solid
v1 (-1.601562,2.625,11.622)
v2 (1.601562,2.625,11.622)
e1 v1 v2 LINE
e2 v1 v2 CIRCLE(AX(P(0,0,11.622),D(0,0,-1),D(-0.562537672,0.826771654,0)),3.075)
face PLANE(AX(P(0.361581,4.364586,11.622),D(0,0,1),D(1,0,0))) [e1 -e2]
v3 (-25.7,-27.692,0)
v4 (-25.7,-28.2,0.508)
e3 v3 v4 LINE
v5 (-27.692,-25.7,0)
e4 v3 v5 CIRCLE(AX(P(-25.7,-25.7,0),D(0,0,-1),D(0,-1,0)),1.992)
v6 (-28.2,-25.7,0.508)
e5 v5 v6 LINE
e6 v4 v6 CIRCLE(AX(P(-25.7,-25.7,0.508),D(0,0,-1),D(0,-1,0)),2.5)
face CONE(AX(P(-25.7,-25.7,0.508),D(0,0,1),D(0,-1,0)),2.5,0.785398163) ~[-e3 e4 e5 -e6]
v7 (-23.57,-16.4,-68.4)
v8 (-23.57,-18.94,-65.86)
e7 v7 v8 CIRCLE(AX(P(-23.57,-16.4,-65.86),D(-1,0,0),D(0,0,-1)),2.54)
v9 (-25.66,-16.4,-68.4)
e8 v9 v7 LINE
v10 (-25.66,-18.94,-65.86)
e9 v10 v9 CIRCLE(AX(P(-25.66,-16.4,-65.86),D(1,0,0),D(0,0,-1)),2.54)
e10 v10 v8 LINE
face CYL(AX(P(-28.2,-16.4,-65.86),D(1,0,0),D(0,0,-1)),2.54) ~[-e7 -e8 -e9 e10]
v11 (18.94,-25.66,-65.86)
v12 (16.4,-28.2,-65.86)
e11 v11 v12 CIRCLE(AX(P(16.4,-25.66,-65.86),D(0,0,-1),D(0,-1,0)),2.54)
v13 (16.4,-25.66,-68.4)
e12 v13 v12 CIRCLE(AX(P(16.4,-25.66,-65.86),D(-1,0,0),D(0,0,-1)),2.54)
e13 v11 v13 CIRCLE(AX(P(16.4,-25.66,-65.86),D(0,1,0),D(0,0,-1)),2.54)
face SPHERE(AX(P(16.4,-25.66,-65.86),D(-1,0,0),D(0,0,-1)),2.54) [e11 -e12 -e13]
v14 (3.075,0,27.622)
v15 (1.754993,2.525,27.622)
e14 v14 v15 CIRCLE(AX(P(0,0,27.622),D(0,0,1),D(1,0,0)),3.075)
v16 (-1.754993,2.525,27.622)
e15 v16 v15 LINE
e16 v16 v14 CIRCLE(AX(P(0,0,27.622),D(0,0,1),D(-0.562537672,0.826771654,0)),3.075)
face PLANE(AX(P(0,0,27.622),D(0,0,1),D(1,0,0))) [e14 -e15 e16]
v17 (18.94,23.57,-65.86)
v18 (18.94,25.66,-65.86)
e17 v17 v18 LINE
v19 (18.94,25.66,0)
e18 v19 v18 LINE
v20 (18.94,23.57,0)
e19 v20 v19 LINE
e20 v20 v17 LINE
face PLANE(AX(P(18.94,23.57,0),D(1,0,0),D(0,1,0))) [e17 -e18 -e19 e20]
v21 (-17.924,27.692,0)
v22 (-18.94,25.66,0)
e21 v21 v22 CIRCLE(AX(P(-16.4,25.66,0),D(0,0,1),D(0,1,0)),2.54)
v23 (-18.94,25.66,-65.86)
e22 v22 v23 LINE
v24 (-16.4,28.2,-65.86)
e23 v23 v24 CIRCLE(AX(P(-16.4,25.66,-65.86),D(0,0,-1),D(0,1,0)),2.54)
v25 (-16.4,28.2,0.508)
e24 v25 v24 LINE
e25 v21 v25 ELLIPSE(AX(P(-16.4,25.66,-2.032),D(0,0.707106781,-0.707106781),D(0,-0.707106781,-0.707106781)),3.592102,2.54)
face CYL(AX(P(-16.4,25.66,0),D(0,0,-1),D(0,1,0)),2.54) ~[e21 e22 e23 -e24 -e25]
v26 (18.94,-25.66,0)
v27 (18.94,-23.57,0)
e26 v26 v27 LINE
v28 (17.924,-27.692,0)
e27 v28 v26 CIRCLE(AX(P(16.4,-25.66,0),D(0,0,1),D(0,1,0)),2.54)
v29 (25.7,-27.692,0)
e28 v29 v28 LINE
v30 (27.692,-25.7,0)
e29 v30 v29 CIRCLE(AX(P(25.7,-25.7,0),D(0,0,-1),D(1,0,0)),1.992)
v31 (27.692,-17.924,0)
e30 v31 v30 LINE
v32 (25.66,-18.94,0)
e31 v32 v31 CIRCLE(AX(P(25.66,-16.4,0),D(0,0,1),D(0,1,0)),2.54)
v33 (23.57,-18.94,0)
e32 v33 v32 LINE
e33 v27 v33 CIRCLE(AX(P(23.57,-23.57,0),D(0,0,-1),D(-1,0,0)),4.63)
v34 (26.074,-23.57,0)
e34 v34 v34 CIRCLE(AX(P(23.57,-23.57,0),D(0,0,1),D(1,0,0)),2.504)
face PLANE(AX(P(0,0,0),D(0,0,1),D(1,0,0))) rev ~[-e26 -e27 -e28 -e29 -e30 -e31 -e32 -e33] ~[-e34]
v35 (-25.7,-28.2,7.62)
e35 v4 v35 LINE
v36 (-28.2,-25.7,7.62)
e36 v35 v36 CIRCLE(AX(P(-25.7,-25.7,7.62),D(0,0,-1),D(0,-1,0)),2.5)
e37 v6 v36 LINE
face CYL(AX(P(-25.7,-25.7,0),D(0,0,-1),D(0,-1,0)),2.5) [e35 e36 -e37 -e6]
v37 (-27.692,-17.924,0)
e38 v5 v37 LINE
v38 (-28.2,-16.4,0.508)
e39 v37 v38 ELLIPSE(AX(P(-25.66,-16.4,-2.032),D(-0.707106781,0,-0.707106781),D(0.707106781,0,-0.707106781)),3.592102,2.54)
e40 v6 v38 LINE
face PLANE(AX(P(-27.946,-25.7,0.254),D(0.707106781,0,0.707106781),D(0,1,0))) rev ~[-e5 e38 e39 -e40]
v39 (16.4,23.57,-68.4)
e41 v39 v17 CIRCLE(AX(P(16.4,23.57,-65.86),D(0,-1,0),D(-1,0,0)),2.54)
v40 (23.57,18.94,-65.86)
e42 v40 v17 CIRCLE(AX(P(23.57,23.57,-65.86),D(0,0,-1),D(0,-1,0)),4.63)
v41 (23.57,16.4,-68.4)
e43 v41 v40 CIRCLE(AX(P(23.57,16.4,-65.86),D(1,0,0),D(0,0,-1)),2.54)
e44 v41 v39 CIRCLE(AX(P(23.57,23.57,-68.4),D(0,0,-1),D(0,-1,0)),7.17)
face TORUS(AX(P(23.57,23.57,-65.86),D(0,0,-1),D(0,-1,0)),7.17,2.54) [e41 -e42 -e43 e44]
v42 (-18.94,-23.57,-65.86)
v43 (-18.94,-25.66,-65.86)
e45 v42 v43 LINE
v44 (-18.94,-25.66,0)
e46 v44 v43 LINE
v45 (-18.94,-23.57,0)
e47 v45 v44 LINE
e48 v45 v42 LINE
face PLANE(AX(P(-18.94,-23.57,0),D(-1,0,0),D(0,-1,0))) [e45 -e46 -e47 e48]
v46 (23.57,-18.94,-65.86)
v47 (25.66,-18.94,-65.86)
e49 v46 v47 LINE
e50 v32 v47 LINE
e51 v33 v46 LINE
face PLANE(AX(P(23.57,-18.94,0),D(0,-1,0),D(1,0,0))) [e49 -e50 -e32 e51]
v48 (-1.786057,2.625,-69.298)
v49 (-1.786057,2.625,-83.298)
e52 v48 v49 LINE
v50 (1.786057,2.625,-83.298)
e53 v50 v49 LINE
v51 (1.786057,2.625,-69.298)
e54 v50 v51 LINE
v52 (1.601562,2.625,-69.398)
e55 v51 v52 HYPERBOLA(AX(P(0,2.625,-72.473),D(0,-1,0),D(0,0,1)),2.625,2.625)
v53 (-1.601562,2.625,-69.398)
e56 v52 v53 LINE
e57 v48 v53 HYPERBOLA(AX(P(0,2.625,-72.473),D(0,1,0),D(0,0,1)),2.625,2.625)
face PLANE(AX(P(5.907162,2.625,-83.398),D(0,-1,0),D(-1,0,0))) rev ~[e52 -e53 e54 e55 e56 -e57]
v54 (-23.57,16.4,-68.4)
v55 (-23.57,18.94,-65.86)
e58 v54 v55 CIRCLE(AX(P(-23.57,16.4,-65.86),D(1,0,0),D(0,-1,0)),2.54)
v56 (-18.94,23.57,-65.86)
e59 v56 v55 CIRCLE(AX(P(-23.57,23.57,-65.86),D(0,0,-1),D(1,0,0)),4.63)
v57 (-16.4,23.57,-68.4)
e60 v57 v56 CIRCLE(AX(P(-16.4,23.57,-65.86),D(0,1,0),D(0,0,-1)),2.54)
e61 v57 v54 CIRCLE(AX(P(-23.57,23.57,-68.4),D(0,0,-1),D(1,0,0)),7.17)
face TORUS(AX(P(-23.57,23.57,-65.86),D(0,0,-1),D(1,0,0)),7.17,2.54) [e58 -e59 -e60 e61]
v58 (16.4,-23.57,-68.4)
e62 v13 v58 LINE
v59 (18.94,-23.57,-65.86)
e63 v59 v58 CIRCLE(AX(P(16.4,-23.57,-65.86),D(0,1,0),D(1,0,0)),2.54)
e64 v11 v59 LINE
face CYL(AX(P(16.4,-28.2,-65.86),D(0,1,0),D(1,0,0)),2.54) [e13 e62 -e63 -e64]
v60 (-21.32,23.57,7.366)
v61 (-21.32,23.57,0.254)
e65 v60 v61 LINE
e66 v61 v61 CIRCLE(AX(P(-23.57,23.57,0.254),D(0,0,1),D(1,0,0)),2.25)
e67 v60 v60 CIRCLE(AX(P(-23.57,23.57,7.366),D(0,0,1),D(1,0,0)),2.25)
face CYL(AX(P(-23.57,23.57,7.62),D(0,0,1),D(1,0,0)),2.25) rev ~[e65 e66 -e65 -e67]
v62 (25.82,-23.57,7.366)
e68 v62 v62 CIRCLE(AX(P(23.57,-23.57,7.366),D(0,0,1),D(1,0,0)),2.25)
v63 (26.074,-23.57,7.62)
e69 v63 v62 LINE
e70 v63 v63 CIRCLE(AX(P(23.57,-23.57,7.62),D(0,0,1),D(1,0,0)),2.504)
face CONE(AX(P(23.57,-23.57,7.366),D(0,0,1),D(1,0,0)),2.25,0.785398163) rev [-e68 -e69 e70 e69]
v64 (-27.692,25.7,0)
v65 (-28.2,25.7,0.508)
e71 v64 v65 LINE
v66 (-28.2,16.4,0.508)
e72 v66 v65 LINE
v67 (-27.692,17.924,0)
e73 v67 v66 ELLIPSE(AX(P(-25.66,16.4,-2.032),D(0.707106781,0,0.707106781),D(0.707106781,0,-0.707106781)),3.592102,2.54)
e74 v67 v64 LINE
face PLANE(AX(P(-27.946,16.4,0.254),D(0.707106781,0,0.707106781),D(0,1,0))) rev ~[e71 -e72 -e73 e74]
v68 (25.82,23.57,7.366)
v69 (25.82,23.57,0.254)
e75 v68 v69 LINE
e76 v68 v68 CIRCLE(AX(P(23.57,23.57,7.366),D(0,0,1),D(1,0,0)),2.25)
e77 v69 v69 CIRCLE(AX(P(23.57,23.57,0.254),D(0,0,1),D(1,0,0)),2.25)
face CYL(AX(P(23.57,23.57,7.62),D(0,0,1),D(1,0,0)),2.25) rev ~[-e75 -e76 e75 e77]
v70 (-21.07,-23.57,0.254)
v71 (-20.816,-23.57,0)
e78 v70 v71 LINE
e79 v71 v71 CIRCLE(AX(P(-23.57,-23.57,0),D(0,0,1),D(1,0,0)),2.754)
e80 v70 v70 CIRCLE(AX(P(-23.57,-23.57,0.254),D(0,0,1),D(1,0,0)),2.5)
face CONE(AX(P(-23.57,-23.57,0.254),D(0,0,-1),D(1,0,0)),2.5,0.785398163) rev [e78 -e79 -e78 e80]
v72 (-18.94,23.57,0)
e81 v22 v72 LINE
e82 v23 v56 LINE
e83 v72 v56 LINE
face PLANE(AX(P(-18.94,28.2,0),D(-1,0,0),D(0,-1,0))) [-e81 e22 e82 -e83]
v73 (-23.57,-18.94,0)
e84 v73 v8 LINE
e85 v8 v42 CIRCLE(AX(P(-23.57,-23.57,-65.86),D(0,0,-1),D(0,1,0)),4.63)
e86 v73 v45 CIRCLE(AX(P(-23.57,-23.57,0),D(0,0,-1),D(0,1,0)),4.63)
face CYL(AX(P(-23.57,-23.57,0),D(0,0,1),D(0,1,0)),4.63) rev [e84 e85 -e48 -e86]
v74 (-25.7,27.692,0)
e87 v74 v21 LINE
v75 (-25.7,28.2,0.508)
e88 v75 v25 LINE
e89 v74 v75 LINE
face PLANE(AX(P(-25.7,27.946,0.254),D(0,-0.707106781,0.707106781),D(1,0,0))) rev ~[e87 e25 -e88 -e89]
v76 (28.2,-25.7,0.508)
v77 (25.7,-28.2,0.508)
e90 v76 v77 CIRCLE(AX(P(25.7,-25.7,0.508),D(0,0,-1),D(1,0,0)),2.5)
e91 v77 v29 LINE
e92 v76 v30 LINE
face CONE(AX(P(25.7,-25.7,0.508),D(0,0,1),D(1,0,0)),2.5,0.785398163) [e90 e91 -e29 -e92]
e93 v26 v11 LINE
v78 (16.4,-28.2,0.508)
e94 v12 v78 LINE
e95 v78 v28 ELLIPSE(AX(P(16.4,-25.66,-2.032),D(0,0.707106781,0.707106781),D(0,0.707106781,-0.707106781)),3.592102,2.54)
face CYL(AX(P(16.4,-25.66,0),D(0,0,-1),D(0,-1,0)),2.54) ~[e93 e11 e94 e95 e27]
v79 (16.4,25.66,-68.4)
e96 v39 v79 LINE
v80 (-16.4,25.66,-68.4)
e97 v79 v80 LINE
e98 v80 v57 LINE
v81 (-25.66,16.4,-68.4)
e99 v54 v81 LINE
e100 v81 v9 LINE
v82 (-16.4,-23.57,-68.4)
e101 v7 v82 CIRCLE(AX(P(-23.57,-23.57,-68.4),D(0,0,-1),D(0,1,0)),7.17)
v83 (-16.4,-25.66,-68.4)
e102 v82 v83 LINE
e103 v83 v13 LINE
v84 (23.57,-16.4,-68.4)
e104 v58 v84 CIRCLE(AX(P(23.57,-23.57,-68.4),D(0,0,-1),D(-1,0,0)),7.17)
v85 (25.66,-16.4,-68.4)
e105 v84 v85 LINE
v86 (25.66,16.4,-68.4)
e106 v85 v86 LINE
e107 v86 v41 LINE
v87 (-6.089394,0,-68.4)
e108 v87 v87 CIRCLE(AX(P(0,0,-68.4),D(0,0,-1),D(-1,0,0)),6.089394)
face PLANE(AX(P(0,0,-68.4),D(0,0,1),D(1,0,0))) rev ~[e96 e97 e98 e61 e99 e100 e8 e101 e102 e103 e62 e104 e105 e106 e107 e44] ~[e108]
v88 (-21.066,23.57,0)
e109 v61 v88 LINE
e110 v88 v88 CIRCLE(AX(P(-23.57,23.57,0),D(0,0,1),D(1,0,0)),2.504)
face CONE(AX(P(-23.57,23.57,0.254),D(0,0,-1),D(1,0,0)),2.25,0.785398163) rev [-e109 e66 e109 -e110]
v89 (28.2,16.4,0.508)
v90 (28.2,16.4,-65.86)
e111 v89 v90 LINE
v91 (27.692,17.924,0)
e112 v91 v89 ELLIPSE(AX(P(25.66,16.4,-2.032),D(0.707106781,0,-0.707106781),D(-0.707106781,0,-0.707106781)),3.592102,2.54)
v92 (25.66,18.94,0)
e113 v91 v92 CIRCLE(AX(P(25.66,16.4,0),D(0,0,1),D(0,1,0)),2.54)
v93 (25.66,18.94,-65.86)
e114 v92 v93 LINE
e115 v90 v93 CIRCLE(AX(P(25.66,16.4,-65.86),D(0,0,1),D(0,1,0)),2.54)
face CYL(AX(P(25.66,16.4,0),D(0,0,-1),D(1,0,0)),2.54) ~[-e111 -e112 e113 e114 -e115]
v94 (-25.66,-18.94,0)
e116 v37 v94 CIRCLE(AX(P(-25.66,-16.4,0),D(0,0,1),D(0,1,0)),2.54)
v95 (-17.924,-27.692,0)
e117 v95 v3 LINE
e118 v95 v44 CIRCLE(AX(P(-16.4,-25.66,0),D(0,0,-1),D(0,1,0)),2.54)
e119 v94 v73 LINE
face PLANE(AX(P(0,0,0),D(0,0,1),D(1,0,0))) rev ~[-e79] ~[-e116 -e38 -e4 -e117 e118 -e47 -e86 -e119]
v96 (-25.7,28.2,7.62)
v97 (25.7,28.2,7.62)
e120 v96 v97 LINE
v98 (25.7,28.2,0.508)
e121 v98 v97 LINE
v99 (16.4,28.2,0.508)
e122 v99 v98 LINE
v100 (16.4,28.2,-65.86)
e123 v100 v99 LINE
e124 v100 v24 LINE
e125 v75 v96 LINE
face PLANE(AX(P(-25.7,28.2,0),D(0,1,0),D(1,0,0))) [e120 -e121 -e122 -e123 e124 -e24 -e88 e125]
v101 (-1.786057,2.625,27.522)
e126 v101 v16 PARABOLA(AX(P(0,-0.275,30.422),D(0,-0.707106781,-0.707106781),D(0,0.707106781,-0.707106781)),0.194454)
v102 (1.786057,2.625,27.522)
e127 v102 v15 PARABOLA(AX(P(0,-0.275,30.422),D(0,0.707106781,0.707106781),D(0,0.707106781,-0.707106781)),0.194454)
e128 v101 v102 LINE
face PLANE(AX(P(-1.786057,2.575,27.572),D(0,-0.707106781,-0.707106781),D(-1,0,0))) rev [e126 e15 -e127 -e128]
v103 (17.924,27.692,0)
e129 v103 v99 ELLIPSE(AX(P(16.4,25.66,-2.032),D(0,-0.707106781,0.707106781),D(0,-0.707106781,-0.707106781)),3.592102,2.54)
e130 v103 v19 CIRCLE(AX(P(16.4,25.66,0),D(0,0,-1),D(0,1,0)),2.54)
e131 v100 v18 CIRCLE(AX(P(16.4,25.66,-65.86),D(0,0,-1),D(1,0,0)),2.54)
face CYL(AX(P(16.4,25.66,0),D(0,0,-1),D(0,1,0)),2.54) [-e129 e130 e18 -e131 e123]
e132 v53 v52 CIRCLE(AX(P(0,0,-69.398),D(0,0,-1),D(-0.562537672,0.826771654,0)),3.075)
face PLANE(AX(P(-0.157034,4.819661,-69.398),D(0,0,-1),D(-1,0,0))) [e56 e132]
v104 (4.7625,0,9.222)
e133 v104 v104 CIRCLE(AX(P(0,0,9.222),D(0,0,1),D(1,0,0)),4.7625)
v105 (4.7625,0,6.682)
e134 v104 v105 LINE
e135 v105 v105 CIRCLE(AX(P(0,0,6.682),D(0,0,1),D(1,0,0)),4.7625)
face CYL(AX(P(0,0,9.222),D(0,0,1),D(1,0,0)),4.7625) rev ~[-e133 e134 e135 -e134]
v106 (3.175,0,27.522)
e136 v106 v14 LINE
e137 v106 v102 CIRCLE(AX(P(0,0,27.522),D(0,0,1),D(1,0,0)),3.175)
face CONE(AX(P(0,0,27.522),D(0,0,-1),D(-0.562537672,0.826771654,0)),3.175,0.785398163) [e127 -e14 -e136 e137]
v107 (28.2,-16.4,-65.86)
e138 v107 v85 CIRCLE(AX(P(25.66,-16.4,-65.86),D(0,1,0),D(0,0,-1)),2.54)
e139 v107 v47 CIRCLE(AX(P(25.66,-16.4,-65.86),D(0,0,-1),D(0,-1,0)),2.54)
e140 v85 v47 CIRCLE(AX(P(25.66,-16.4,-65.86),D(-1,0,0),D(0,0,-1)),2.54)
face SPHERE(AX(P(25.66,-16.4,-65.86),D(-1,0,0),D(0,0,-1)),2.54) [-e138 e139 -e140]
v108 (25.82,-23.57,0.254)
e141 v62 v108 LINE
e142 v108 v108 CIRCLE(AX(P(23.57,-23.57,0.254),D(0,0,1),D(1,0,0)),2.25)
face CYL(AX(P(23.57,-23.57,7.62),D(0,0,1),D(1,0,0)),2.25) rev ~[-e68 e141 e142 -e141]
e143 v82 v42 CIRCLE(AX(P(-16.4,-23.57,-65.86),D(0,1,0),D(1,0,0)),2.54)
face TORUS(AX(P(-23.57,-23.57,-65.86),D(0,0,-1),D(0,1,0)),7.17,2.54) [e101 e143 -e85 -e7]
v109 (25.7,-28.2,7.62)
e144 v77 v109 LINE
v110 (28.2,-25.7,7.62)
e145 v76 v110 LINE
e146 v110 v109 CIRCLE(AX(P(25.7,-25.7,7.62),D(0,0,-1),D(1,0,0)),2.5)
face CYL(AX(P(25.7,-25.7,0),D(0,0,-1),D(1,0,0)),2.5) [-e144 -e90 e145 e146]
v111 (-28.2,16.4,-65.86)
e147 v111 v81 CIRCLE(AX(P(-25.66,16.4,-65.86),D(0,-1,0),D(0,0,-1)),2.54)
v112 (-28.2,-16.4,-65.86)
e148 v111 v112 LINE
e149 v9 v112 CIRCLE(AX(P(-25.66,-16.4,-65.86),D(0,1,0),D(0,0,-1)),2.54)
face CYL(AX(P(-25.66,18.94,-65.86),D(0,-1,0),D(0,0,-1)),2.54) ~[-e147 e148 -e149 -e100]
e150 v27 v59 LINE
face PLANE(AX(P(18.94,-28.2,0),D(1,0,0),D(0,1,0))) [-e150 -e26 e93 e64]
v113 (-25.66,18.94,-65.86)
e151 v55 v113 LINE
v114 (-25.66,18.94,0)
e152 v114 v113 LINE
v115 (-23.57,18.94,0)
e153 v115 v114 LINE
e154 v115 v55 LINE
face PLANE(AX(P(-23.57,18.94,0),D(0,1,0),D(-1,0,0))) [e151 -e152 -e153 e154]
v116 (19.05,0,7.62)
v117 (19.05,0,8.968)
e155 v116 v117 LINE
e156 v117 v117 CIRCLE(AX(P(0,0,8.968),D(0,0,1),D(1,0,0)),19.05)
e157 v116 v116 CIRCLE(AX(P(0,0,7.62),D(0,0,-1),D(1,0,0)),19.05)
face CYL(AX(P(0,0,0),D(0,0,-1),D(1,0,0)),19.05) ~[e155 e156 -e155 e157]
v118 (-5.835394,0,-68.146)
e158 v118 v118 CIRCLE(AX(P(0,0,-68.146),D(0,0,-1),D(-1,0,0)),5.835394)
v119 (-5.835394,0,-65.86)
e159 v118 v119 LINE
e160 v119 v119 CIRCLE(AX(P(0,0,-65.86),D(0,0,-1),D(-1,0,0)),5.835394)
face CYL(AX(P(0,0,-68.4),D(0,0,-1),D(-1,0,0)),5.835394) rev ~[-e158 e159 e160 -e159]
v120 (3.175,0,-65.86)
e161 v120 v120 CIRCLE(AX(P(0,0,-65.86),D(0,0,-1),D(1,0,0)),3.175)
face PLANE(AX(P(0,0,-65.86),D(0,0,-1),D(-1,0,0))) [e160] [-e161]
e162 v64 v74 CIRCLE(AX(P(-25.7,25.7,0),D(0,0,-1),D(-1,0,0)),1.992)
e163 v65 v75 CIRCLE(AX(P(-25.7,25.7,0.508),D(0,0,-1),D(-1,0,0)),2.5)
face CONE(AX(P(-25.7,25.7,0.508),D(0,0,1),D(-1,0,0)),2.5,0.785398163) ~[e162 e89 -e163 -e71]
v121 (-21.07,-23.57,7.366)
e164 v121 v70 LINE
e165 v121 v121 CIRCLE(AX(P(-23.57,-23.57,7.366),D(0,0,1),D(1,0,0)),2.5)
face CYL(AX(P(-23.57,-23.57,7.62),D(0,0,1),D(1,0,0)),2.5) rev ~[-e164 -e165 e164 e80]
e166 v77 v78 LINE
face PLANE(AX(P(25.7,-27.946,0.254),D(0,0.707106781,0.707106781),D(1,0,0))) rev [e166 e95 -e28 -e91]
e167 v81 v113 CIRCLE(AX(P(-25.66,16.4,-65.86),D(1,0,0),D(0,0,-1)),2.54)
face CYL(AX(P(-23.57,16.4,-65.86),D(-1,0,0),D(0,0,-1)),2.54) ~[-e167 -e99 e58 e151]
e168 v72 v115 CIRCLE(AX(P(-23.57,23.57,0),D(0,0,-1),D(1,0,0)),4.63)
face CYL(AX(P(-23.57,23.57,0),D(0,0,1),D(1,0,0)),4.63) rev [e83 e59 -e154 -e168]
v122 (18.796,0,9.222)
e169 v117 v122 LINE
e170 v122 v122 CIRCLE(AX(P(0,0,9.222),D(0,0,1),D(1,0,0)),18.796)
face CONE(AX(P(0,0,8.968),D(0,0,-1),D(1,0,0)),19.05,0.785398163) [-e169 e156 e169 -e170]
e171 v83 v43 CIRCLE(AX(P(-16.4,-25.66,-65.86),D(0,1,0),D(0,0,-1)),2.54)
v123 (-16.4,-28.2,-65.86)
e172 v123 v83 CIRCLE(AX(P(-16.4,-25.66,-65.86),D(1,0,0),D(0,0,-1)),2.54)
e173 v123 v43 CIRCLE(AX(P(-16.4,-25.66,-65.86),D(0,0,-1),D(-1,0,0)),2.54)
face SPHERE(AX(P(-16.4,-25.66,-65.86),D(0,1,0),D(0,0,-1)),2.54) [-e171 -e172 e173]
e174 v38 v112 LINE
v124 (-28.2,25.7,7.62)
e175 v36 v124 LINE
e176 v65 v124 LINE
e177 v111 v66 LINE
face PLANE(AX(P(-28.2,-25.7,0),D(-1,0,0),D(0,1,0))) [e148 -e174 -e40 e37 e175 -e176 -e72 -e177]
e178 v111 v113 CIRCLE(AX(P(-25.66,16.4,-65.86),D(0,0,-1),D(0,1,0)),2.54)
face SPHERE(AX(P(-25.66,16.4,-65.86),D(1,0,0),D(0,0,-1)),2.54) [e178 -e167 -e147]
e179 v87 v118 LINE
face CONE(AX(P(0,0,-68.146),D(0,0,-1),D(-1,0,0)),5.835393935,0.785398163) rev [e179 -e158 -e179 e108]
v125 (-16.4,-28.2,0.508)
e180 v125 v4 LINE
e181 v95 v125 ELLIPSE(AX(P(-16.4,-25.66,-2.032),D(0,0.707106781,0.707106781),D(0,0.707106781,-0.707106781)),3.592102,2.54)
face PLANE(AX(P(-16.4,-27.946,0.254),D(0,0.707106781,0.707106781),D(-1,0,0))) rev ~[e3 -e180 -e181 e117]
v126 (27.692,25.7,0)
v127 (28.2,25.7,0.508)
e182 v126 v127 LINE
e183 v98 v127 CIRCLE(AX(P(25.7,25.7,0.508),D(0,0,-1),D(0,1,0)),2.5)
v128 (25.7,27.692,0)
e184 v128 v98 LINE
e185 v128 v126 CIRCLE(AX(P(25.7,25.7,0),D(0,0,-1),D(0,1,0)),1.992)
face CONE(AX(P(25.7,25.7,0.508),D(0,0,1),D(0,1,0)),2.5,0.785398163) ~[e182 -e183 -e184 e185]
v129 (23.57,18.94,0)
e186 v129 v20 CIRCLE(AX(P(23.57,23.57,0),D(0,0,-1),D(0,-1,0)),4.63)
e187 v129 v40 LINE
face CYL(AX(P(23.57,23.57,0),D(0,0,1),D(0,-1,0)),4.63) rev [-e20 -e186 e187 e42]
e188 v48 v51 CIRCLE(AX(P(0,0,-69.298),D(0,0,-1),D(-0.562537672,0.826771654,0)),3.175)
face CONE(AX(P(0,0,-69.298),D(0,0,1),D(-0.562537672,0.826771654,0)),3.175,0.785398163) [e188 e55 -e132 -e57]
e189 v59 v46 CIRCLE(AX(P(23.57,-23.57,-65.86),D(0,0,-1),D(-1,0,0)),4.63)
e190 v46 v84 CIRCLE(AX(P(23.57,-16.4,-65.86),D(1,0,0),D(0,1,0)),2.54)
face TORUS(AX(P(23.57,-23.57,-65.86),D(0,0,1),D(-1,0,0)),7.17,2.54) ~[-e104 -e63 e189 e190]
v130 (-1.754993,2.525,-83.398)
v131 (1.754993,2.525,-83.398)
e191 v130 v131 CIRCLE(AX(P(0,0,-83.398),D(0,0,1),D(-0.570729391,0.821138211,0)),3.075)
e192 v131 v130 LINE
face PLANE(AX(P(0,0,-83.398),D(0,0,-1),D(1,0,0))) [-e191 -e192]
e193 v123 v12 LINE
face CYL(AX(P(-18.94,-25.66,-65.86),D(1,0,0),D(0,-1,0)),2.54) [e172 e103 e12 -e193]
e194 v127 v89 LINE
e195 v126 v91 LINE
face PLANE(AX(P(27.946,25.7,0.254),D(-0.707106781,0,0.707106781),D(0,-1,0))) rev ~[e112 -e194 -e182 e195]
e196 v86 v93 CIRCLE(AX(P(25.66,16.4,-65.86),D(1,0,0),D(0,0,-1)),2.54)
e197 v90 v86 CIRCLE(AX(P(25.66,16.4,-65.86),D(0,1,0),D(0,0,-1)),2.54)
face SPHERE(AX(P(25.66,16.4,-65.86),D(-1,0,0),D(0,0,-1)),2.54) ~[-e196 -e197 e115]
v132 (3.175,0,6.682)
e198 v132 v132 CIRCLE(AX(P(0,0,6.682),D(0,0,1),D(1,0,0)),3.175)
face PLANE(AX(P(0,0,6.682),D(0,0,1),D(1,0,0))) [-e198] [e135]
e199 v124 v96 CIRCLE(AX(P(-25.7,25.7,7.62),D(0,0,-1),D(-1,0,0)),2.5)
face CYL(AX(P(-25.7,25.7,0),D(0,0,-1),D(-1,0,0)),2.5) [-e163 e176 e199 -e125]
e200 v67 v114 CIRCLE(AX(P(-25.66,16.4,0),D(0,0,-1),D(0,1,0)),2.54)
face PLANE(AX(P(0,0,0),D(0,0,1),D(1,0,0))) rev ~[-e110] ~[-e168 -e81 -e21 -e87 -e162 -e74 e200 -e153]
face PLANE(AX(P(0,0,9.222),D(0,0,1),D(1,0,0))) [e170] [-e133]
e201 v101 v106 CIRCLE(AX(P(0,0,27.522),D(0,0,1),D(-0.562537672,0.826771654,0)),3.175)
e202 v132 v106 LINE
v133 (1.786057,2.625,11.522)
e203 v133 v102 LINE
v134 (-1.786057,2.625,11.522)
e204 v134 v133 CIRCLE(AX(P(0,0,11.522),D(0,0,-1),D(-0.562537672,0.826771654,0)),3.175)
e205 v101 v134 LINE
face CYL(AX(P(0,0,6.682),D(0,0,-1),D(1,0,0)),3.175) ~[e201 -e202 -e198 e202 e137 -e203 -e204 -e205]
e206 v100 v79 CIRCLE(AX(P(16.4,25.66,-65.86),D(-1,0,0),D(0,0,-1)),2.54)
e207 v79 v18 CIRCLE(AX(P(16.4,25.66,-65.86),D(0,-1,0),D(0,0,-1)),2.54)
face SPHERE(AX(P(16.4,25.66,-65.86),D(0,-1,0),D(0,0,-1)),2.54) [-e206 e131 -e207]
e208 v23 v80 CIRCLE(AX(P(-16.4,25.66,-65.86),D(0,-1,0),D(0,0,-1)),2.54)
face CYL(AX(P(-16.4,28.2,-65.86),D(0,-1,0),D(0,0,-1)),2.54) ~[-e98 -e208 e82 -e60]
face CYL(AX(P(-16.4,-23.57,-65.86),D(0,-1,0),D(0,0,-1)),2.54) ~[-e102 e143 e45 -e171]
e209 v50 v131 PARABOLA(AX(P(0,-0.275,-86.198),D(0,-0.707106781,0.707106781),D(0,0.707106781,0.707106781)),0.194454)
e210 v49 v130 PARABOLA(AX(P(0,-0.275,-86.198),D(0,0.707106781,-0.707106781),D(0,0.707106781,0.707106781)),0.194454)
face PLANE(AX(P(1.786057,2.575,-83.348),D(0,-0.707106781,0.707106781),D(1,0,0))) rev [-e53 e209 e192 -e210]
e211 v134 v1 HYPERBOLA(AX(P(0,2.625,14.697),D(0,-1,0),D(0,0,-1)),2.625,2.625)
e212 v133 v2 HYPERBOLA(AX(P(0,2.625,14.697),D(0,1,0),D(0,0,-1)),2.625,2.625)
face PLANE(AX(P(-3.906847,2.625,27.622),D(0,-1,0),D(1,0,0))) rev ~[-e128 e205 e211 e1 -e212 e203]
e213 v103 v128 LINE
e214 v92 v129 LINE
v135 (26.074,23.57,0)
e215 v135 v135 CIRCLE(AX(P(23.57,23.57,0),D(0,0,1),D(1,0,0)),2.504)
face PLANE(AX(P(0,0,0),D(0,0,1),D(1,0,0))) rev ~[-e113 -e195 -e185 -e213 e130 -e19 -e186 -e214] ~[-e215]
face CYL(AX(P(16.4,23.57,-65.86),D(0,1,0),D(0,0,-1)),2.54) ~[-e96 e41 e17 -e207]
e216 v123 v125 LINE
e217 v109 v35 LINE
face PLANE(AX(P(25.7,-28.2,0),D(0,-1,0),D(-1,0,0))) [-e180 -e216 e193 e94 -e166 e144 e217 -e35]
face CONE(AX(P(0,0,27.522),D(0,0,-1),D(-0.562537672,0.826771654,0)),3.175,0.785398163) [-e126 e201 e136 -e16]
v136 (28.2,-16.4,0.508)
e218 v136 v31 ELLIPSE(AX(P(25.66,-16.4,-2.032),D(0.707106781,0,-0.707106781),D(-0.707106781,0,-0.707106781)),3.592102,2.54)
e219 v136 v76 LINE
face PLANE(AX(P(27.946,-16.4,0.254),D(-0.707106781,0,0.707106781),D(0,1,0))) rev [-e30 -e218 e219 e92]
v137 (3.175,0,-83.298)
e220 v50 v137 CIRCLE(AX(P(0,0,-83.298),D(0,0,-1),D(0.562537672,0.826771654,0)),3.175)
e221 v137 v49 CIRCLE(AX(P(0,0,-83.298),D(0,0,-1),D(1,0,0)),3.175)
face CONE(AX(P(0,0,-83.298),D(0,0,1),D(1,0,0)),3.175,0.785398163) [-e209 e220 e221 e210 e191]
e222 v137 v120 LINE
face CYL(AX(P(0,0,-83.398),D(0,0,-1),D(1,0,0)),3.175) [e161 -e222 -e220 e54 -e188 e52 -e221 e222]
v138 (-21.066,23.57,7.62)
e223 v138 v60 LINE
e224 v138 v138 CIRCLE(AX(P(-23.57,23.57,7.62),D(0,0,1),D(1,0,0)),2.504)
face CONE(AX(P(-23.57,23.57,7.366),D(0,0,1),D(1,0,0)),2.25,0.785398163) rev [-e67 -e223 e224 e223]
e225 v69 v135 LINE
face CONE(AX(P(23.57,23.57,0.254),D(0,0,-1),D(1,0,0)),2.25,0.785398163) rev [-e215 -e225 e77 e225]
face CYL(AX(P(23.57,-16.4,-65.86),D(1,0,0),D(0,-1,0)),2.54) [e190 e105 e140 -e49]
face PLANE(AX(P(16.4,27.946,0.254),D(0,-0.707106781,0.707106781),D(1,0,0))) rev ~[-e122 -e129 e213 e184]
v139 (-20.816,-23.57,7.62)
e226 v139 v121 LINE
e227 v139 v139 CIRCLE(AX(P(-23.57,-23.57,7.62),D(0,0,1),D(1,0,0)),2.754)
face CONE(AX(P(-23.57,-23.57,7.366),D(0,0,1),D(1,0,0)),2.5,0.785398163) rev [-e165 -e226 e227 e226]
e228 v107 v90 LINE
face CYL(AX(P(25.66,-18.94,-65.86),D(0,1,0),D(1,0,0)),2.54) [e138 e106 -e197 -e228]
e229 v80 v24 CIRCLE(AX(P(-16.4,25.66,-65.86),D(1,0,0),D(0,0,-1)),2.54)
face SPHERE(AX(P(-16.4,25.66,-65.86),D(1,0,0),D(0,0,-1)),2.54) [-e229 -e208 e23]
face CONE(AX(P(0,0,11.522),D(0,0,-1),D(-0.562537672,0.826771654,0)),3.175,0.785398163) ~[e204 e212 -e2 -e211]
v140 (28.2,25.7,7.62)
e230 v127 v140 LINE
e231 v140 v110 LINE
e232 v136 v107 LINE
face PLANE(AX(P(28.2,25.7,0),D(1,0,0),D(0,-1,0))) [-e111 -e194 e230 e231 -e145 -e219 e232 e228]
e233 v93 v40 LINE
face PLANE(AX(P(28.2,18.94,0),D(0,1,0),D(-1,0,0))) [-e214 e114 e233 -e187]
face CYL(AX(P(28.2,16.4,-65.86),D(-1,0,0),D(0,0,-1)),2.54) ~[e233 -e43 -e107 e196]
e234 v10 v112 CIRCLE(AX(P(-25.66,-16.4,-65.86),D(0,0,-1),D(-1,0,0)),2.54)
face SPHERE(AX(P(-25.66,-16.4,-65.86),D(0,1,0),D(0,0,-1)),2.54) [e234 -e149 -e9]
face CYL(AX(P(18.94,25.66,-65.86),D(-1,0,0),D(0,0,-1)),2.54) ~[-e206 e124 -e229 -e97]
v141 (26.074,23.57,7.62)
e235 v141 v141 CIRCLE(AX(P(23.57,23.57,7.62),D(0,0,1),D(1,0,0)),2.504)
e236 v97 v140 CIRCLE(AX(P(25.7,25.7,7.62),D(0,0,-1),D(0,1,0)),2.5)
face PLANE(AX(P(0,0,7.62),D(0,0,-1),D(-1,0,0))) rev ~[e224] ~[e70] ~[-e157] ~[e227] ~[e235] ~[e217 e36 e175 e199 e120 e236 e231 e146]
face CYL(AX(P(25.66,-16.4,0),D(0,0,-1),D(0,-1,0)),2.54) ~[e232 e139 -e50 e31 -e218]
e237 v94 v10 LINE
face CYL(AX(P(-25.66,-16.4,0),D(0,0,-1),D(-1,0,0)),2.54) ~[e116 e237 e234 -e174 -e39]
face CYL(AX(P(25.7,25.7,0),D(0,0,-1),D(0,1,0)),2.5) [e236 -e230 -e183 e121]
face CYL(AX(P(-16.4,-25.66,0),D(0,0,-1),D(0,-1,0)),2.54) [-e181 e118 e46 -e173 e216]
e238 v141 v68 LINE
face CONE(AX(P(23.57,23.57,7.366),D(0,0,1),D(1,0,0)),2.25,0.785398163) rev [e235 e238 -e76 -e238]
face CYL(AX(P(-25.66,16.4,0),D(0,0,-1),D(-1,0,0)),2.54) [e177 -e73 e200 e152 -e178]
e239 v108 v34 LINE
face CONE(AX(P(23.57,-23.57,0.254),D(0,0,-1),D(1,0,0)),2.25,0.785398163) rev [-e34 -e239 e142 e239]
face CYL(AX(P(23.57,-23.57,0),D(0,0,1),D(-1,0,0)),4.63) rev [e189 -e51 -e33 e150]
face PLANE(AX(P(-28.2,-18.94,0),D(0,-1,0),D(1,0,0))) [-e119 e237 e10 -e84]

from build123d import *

# Parameters (mm, degrees)
EXTRUDE1_DEPTH      = 7.62
SKETCH2_R           = 2.25
EXTRUDE2_DEPTH      = 7.62
SKETCH3_R           = 2.25
SKETCH3_R_2         = 2.5
EXTRUDE3_DEPTH      = 7.62
SKETCH5_R           = 19.05
EXTRUDE5_DEPTH      = 9.222
EXTRUDE7_DEPTH      = 68.4
FILLET1_R           = 2.54
CHAMFER1_SIZE       = 0.508
CHAMFER2_SIZE       = 0.508
SKETCH8_R           = 5.835393935
EXTRUDE9_DEPTH      = 2.54
CHAMFER6_SIZE       = 0.254
CHAMFER7_SIZE       = 0.508
CHAMFER8_SIZE       = 0.508
SKETCH9_R           = 4.7625
CUT_EXTRUDE1_DEPTH  = 2.54
SKETCH10_R          = 3.175
BOSS_EXTRUDE1_DEPTH = 20.94
BOSS_EXTRUDE2_START = 17.538
SKETCH11_R          = 3.175
BOSS_EXTRUDE2_DEPTH = 17.538
CHAMFER9_SIZE       = 0.254
CHAMFER10_SIZE      = 0.254
CHAMFER11_SIZE      = 0.254
SKETCH12_W          = 8.536855061
SKETCH12_H          = 3.479171119
CUT_EXTRUDE2_DEPTH  = 16
CHAMFER12_SIZE      = 0.1
SKETCH13_W          = 12.128390522
SKETCH13_H          = 4.389322284
CUT_EXTRUDE3_DEPTH  = 14
CHAMFER13_SIZE      = 0.1


with BuildPart() as part:
    # Sketch1 → Extrude1 (new body)
    with BuildSketch(Plane.XY):
        with BuildLine():
            Line((25.7, -28.2), (-25.7, -28.2))
            ThreePointArc((-25.7, -28.2), (-27.467766953, -27.467766953), (-28.2, -25.7))
            Line((-28.2, -25.7), (-28.2, 25.7))
            ThreePointArc((-28.2, 25.7), (-27.467766953, 27.467766953), (-25.7, 28.2))
            Line((-25.7, 28.2), (25.7, 28.2))
            ThreePointArc((25.7, 28.2), (27.467766953, 27.467766953), (28.2, 25.7))
            Line((28.2, 25.7), (28.2, -25.7))
            ThreePointArc((28.2, -25.7), (27.467766953, -27.467766953), (25.7, -28.2))
        make_face()
    extrude(amount=EXTRUDE1_DEPTH)

    # Sketch2 → Extrude2 (cut)
    with BuildSketch(Plane.XY.offset(7.62)):
        with Locations((-23.569999999, 23.57)):
            Circle(SKETCH2_R)
    extrude(amount=-EXTRUDE2_DEPTH, mode=Mode.SUBTRACT)

    # Sketch3 → Extrude3 (cut)
    with BuildSketch(Plane.XY.offset(7.62)):
        with Locations((23.569999999, 23.57)):
            Circle(SKETCH3_R)
        with Locations((23.569999999, -23.57)):
            Circle(SKETCH3_R)
        with Locations((-23.57, -23.57)):
            Circle(SKETCH3_R_2)
    extrude(amount=-EXTRUDE3_DEPTH, mode=Mode.SUBTRACT)

    # Sketch5 → Extrude5 (add)
    with BuildSketch(Plane.XY):
        Circle(SKETCH5_R)
    extrude(amount=EXTRUDE5_DEPTH)

    # Sketch6 → Extrude7 (add)
    with BuildSketch(Plane.XY):
        with BuildLine():
            Line((-18.94, 28.2), (-18.94, 23.57))
            ThreePointArc((-18.94, 23.57), (-20.296095603, 20.296095603), (-23.57, 18.94))
            Line((-23.57, 18.94), (-28.2, 18.94))
            Line((-28.2, 18.94), (-28.2, -18.939999999))
            Line((-28.2, -18.939999999), (-23.57, -18.939999999))
            ThreePointArc((-23.57, -18.939999999), (-20.296095603, -20.296095602), (-18.94, -23.569999999))
            Line((-18.94, -23.569999999), (-18.94, -28.2))
            Line((-18.94, -28.2), (-5.065990887, -28.2))
            Line((-5.065990887, -28.2), (5.065990887, -28.2))
            Line((5.065990887, -28.2), (18.939999999, -28.2))
            Line((18.939999999, -28.2), (18.939999999, -23.569999999))
            ThreePointArc((18.939999999, -23.569999999), (20.296095602, -20.296095602), (23.569999999, -18.939999999))
            Line((23.569999999, -18.939999999), (28.2, -18.939999999))
            Line((28.2, -18.939999999), (28.2, 18.94))
            Line((28.2, 18.94), (23.57, 18.94))
            ThreePointArc((23.57, 18.94), (20.296095602, 20.296095603), (18.939999999, 23.57))
            Line((18.939999999, 23.57), (18.939999999, 28.2))
            Line((18.939999999, 28.2), (-18.94, 28.2))
        make_face()
    extrude(amount=-EXTRUDE7_DEPTH)

    # Fillet1
    fillet1_edges = [part.edges().sort_by_distance(p)[0] for p in [
        (20.296095602, 20.296095603, -68.4),
        (18.939999999, 25.885, -68.4),
        (-1e-09, 28.2, -68.4),
        (-18.94, 25.885, -68.4),
        (-20.296095603, 20.296095603, -68.4),
        (-25.885, 18.94, -68.4),
        (-28.2, 0, -68.4),
        (-25.885, -18.939999999, -68.4),
        (-20.296095603, -20.296095602, -68.4),
        (-18.94, -25.885, -68.4),
        (-1e-09, -28.2, -68.4),
        (18.939999999, -25.885, -68.4),
        (20.296095602, -20.296095602, -68.4),
        (25.885, -18.939999999, -68.4),
        (28.2, 0, -68.4),
        (25.885, 18.94, -68.4),
        (18.939999999, -28.2, -34.2),
        (28.2, -18.939999999, -34.2),
        (-18.94, -28.2, -34.2),
        (-28.2, -18.939999999, -34.2),
        (28.2, 18.94, -34.2),
        (18.939999999, 28.2, -34.2),
        (-18.94, 28.2, -34.2),
        (-28.2, 18.94, -34.2),
    ]]
    fillet(fillet1_edges, radius=FILLET1_R)

    # Chamfer1
    chamfer1_edges = [part.edges().sort_by_distance(p)[0] for p in [
        (21.049999999, 28.2, 0),
        (27.467766953, 27.467766953, 0),
        (28.2, 21.05, 0),
    ]]
    chamfer(chamfer1_edges, length=CHAMFER1_SIZE)

    # Chamfer2
    chamfer2_edges = [part.edges().sort_by_distance(p)[0] for p in [
        (-28.2, -21.049999999, 0),
        (-21.05, -28.2, 0),
        (-27.467766953, -27.467766953, 0),
    ]]
    chamfer(chamfer2_edges, length=CHAMFER2_SIZE)

    # Sketch8 → Extrude9 (cut)
    with BuildSketch(Plane(origin=(0, 0, -68.4), x_dir=(-1, 0, 0), z_dir=(0, 0, -1))):
        Circle(SKETCH8_R)
    extrude(amount=-EXTRUDE9_DEPTH, mode=Mode.SUBTRACT)

    # Chamfer6
    chamfer6_edges = [part.edges().sort_by_distance(p)[0] for p in [
        (5.835393935, 0, -68.4),
    ]]
    chamfer(chamfer6_edges, length=CHAMFER6_SIZE)

    # Chamfer7
    chamfer7_edges = [part.edges().sort_by_distance(p)[0] for p in [
        (28.2, -21.049999999, 0),
        (27.467766953, -27.467766953, 0),
        (21.049999999, -28.2, 0),
    ]]
    chamfer(chamfer7_edges, length=CHAMFER7_SIZE)

    # Chamfer8
    chamfer8_edges = [part.edges().sort_by_distance(p)[0] for p in [
        (-27.467766953, 27.467766953, 0),
        (-28.2, 21.05, 0),
        (-21.05, 28.2, 0),
    ]]
    chamfer(chamfer8_edges, length=CHAMFER8_SIZE)

    # Sketch9 → Cut-Extrude1 (cut)
    with BuildSketch(Plane.XY.offset(9.222)):
        Circle(SKETCH9_R)
    extrude(amount=-CUT_EXTRUDE1_DEPTH, mode=Mode.SUBTRACT)

    # Sketch10 → Boss-Extrude1 (add)
    with BuildSketch(Plane.XY.offset(6.682)):
        Circle(SKETCH10_R)
    extrude(amount=BOSS_EXTRUDE1_DEPTH)

    # Sketch11 → Boss-Extrude2 (add)
    with BuildSketch(Plane(origin=(0, 0, -65.86), x_dir=(-1, 0, 0), z_dir=(0, 0, -1)).offset(BOSS_EXTRUDE2_START)):
        with Locations(Location((0, 0, 0), (0, 0, 180))):
            Circle(SKETCH11_R)
    extrude(amount=-BOSS_EXTRUDE2_DEPTH)

    # Chamfer9
    chamfer9_edges = [part.edges().sort_by_distance(p)[0] for p in [
        (-19.05, 0, 9.222),
    ]]
    chamfer(chamfer9_edges, length=CHAMFER9_SIZE)

    # Chamfer10
    chamfer10_edges = [part.edges().sort_by_distance(p)[0] for p in [
        (-25.819999999, 23.57, 7.62),
        (21.319999999, 23.57, 7.62),
        (-26.07, -23.57, 7.62),
        (21.319999999, -23.57, 7.62),
    ]]
    chamfer(chamfer10_edges, length=CHAMFER10_SIZE)

    # Chamfer11
    chamfer11_edges = [part.edges().sort_by_distance(p)[0] for p in [
        (-25.819999999, 23.57, 0),
        (21.319999999, 23.57, 0),
        (-26.07, -23.57, 0),
        (21.319999999, -23.57, 0),
    ]]
    chamfer(chamfer11_edges, length=CHAMFER11_SIZE)

    # Sketch12 → Cut-Extrude2 (cut)
    with BuildSketch(Plane.XY.offset(27.622)):
        with Locations((0.361580674, 4.36458556)):
            Rectangle(SKETCH12_W, SKETCH12_H)
    extrude(amount=-CUT_EXTRUDE2_DEPTH, mode=Mode.SUBTRACT)

    # Chamfer12
    chamfer12_edges = [part.edges().sort_by_distance(p)[0] for p in [
        (-1.48490634, -2.806363868, 27.622),
        (0, 2.625, 27.622),
        (0, 3.175, 11.622),
    ]]
    chamfer(chamfer12_edges, length=CHAMFER12_SIZE)

    # Sketch13 → Cut-Extrude3 (cut)
    with BuildSketch(Plane(origin=(0, 0, -83.398), x_dir=(-1, 0, 0), z_dir=(0, 0, -1))):
        with Locations((0.157033553, 4.819661142)):
            Rectangle(SKETCH13_W, SKETCH13_H)
    extrude(amount=-CUT_EXTRUDE3_DEPTH, mode=Mode.SUBTRACT)

    # Chamfer13
    chamfer13_edges = [part.edges().sort_by_distance(p)[0] for p in [
        (-1.48490634, -2.806363868, -83.398),
        (0, 2.625, -83.398),
        (0, 3.175, -69.398),
    ]]
    chamfer(chamfer13_edges, length=CHAMFER13_SIZE)


solid = part.part
